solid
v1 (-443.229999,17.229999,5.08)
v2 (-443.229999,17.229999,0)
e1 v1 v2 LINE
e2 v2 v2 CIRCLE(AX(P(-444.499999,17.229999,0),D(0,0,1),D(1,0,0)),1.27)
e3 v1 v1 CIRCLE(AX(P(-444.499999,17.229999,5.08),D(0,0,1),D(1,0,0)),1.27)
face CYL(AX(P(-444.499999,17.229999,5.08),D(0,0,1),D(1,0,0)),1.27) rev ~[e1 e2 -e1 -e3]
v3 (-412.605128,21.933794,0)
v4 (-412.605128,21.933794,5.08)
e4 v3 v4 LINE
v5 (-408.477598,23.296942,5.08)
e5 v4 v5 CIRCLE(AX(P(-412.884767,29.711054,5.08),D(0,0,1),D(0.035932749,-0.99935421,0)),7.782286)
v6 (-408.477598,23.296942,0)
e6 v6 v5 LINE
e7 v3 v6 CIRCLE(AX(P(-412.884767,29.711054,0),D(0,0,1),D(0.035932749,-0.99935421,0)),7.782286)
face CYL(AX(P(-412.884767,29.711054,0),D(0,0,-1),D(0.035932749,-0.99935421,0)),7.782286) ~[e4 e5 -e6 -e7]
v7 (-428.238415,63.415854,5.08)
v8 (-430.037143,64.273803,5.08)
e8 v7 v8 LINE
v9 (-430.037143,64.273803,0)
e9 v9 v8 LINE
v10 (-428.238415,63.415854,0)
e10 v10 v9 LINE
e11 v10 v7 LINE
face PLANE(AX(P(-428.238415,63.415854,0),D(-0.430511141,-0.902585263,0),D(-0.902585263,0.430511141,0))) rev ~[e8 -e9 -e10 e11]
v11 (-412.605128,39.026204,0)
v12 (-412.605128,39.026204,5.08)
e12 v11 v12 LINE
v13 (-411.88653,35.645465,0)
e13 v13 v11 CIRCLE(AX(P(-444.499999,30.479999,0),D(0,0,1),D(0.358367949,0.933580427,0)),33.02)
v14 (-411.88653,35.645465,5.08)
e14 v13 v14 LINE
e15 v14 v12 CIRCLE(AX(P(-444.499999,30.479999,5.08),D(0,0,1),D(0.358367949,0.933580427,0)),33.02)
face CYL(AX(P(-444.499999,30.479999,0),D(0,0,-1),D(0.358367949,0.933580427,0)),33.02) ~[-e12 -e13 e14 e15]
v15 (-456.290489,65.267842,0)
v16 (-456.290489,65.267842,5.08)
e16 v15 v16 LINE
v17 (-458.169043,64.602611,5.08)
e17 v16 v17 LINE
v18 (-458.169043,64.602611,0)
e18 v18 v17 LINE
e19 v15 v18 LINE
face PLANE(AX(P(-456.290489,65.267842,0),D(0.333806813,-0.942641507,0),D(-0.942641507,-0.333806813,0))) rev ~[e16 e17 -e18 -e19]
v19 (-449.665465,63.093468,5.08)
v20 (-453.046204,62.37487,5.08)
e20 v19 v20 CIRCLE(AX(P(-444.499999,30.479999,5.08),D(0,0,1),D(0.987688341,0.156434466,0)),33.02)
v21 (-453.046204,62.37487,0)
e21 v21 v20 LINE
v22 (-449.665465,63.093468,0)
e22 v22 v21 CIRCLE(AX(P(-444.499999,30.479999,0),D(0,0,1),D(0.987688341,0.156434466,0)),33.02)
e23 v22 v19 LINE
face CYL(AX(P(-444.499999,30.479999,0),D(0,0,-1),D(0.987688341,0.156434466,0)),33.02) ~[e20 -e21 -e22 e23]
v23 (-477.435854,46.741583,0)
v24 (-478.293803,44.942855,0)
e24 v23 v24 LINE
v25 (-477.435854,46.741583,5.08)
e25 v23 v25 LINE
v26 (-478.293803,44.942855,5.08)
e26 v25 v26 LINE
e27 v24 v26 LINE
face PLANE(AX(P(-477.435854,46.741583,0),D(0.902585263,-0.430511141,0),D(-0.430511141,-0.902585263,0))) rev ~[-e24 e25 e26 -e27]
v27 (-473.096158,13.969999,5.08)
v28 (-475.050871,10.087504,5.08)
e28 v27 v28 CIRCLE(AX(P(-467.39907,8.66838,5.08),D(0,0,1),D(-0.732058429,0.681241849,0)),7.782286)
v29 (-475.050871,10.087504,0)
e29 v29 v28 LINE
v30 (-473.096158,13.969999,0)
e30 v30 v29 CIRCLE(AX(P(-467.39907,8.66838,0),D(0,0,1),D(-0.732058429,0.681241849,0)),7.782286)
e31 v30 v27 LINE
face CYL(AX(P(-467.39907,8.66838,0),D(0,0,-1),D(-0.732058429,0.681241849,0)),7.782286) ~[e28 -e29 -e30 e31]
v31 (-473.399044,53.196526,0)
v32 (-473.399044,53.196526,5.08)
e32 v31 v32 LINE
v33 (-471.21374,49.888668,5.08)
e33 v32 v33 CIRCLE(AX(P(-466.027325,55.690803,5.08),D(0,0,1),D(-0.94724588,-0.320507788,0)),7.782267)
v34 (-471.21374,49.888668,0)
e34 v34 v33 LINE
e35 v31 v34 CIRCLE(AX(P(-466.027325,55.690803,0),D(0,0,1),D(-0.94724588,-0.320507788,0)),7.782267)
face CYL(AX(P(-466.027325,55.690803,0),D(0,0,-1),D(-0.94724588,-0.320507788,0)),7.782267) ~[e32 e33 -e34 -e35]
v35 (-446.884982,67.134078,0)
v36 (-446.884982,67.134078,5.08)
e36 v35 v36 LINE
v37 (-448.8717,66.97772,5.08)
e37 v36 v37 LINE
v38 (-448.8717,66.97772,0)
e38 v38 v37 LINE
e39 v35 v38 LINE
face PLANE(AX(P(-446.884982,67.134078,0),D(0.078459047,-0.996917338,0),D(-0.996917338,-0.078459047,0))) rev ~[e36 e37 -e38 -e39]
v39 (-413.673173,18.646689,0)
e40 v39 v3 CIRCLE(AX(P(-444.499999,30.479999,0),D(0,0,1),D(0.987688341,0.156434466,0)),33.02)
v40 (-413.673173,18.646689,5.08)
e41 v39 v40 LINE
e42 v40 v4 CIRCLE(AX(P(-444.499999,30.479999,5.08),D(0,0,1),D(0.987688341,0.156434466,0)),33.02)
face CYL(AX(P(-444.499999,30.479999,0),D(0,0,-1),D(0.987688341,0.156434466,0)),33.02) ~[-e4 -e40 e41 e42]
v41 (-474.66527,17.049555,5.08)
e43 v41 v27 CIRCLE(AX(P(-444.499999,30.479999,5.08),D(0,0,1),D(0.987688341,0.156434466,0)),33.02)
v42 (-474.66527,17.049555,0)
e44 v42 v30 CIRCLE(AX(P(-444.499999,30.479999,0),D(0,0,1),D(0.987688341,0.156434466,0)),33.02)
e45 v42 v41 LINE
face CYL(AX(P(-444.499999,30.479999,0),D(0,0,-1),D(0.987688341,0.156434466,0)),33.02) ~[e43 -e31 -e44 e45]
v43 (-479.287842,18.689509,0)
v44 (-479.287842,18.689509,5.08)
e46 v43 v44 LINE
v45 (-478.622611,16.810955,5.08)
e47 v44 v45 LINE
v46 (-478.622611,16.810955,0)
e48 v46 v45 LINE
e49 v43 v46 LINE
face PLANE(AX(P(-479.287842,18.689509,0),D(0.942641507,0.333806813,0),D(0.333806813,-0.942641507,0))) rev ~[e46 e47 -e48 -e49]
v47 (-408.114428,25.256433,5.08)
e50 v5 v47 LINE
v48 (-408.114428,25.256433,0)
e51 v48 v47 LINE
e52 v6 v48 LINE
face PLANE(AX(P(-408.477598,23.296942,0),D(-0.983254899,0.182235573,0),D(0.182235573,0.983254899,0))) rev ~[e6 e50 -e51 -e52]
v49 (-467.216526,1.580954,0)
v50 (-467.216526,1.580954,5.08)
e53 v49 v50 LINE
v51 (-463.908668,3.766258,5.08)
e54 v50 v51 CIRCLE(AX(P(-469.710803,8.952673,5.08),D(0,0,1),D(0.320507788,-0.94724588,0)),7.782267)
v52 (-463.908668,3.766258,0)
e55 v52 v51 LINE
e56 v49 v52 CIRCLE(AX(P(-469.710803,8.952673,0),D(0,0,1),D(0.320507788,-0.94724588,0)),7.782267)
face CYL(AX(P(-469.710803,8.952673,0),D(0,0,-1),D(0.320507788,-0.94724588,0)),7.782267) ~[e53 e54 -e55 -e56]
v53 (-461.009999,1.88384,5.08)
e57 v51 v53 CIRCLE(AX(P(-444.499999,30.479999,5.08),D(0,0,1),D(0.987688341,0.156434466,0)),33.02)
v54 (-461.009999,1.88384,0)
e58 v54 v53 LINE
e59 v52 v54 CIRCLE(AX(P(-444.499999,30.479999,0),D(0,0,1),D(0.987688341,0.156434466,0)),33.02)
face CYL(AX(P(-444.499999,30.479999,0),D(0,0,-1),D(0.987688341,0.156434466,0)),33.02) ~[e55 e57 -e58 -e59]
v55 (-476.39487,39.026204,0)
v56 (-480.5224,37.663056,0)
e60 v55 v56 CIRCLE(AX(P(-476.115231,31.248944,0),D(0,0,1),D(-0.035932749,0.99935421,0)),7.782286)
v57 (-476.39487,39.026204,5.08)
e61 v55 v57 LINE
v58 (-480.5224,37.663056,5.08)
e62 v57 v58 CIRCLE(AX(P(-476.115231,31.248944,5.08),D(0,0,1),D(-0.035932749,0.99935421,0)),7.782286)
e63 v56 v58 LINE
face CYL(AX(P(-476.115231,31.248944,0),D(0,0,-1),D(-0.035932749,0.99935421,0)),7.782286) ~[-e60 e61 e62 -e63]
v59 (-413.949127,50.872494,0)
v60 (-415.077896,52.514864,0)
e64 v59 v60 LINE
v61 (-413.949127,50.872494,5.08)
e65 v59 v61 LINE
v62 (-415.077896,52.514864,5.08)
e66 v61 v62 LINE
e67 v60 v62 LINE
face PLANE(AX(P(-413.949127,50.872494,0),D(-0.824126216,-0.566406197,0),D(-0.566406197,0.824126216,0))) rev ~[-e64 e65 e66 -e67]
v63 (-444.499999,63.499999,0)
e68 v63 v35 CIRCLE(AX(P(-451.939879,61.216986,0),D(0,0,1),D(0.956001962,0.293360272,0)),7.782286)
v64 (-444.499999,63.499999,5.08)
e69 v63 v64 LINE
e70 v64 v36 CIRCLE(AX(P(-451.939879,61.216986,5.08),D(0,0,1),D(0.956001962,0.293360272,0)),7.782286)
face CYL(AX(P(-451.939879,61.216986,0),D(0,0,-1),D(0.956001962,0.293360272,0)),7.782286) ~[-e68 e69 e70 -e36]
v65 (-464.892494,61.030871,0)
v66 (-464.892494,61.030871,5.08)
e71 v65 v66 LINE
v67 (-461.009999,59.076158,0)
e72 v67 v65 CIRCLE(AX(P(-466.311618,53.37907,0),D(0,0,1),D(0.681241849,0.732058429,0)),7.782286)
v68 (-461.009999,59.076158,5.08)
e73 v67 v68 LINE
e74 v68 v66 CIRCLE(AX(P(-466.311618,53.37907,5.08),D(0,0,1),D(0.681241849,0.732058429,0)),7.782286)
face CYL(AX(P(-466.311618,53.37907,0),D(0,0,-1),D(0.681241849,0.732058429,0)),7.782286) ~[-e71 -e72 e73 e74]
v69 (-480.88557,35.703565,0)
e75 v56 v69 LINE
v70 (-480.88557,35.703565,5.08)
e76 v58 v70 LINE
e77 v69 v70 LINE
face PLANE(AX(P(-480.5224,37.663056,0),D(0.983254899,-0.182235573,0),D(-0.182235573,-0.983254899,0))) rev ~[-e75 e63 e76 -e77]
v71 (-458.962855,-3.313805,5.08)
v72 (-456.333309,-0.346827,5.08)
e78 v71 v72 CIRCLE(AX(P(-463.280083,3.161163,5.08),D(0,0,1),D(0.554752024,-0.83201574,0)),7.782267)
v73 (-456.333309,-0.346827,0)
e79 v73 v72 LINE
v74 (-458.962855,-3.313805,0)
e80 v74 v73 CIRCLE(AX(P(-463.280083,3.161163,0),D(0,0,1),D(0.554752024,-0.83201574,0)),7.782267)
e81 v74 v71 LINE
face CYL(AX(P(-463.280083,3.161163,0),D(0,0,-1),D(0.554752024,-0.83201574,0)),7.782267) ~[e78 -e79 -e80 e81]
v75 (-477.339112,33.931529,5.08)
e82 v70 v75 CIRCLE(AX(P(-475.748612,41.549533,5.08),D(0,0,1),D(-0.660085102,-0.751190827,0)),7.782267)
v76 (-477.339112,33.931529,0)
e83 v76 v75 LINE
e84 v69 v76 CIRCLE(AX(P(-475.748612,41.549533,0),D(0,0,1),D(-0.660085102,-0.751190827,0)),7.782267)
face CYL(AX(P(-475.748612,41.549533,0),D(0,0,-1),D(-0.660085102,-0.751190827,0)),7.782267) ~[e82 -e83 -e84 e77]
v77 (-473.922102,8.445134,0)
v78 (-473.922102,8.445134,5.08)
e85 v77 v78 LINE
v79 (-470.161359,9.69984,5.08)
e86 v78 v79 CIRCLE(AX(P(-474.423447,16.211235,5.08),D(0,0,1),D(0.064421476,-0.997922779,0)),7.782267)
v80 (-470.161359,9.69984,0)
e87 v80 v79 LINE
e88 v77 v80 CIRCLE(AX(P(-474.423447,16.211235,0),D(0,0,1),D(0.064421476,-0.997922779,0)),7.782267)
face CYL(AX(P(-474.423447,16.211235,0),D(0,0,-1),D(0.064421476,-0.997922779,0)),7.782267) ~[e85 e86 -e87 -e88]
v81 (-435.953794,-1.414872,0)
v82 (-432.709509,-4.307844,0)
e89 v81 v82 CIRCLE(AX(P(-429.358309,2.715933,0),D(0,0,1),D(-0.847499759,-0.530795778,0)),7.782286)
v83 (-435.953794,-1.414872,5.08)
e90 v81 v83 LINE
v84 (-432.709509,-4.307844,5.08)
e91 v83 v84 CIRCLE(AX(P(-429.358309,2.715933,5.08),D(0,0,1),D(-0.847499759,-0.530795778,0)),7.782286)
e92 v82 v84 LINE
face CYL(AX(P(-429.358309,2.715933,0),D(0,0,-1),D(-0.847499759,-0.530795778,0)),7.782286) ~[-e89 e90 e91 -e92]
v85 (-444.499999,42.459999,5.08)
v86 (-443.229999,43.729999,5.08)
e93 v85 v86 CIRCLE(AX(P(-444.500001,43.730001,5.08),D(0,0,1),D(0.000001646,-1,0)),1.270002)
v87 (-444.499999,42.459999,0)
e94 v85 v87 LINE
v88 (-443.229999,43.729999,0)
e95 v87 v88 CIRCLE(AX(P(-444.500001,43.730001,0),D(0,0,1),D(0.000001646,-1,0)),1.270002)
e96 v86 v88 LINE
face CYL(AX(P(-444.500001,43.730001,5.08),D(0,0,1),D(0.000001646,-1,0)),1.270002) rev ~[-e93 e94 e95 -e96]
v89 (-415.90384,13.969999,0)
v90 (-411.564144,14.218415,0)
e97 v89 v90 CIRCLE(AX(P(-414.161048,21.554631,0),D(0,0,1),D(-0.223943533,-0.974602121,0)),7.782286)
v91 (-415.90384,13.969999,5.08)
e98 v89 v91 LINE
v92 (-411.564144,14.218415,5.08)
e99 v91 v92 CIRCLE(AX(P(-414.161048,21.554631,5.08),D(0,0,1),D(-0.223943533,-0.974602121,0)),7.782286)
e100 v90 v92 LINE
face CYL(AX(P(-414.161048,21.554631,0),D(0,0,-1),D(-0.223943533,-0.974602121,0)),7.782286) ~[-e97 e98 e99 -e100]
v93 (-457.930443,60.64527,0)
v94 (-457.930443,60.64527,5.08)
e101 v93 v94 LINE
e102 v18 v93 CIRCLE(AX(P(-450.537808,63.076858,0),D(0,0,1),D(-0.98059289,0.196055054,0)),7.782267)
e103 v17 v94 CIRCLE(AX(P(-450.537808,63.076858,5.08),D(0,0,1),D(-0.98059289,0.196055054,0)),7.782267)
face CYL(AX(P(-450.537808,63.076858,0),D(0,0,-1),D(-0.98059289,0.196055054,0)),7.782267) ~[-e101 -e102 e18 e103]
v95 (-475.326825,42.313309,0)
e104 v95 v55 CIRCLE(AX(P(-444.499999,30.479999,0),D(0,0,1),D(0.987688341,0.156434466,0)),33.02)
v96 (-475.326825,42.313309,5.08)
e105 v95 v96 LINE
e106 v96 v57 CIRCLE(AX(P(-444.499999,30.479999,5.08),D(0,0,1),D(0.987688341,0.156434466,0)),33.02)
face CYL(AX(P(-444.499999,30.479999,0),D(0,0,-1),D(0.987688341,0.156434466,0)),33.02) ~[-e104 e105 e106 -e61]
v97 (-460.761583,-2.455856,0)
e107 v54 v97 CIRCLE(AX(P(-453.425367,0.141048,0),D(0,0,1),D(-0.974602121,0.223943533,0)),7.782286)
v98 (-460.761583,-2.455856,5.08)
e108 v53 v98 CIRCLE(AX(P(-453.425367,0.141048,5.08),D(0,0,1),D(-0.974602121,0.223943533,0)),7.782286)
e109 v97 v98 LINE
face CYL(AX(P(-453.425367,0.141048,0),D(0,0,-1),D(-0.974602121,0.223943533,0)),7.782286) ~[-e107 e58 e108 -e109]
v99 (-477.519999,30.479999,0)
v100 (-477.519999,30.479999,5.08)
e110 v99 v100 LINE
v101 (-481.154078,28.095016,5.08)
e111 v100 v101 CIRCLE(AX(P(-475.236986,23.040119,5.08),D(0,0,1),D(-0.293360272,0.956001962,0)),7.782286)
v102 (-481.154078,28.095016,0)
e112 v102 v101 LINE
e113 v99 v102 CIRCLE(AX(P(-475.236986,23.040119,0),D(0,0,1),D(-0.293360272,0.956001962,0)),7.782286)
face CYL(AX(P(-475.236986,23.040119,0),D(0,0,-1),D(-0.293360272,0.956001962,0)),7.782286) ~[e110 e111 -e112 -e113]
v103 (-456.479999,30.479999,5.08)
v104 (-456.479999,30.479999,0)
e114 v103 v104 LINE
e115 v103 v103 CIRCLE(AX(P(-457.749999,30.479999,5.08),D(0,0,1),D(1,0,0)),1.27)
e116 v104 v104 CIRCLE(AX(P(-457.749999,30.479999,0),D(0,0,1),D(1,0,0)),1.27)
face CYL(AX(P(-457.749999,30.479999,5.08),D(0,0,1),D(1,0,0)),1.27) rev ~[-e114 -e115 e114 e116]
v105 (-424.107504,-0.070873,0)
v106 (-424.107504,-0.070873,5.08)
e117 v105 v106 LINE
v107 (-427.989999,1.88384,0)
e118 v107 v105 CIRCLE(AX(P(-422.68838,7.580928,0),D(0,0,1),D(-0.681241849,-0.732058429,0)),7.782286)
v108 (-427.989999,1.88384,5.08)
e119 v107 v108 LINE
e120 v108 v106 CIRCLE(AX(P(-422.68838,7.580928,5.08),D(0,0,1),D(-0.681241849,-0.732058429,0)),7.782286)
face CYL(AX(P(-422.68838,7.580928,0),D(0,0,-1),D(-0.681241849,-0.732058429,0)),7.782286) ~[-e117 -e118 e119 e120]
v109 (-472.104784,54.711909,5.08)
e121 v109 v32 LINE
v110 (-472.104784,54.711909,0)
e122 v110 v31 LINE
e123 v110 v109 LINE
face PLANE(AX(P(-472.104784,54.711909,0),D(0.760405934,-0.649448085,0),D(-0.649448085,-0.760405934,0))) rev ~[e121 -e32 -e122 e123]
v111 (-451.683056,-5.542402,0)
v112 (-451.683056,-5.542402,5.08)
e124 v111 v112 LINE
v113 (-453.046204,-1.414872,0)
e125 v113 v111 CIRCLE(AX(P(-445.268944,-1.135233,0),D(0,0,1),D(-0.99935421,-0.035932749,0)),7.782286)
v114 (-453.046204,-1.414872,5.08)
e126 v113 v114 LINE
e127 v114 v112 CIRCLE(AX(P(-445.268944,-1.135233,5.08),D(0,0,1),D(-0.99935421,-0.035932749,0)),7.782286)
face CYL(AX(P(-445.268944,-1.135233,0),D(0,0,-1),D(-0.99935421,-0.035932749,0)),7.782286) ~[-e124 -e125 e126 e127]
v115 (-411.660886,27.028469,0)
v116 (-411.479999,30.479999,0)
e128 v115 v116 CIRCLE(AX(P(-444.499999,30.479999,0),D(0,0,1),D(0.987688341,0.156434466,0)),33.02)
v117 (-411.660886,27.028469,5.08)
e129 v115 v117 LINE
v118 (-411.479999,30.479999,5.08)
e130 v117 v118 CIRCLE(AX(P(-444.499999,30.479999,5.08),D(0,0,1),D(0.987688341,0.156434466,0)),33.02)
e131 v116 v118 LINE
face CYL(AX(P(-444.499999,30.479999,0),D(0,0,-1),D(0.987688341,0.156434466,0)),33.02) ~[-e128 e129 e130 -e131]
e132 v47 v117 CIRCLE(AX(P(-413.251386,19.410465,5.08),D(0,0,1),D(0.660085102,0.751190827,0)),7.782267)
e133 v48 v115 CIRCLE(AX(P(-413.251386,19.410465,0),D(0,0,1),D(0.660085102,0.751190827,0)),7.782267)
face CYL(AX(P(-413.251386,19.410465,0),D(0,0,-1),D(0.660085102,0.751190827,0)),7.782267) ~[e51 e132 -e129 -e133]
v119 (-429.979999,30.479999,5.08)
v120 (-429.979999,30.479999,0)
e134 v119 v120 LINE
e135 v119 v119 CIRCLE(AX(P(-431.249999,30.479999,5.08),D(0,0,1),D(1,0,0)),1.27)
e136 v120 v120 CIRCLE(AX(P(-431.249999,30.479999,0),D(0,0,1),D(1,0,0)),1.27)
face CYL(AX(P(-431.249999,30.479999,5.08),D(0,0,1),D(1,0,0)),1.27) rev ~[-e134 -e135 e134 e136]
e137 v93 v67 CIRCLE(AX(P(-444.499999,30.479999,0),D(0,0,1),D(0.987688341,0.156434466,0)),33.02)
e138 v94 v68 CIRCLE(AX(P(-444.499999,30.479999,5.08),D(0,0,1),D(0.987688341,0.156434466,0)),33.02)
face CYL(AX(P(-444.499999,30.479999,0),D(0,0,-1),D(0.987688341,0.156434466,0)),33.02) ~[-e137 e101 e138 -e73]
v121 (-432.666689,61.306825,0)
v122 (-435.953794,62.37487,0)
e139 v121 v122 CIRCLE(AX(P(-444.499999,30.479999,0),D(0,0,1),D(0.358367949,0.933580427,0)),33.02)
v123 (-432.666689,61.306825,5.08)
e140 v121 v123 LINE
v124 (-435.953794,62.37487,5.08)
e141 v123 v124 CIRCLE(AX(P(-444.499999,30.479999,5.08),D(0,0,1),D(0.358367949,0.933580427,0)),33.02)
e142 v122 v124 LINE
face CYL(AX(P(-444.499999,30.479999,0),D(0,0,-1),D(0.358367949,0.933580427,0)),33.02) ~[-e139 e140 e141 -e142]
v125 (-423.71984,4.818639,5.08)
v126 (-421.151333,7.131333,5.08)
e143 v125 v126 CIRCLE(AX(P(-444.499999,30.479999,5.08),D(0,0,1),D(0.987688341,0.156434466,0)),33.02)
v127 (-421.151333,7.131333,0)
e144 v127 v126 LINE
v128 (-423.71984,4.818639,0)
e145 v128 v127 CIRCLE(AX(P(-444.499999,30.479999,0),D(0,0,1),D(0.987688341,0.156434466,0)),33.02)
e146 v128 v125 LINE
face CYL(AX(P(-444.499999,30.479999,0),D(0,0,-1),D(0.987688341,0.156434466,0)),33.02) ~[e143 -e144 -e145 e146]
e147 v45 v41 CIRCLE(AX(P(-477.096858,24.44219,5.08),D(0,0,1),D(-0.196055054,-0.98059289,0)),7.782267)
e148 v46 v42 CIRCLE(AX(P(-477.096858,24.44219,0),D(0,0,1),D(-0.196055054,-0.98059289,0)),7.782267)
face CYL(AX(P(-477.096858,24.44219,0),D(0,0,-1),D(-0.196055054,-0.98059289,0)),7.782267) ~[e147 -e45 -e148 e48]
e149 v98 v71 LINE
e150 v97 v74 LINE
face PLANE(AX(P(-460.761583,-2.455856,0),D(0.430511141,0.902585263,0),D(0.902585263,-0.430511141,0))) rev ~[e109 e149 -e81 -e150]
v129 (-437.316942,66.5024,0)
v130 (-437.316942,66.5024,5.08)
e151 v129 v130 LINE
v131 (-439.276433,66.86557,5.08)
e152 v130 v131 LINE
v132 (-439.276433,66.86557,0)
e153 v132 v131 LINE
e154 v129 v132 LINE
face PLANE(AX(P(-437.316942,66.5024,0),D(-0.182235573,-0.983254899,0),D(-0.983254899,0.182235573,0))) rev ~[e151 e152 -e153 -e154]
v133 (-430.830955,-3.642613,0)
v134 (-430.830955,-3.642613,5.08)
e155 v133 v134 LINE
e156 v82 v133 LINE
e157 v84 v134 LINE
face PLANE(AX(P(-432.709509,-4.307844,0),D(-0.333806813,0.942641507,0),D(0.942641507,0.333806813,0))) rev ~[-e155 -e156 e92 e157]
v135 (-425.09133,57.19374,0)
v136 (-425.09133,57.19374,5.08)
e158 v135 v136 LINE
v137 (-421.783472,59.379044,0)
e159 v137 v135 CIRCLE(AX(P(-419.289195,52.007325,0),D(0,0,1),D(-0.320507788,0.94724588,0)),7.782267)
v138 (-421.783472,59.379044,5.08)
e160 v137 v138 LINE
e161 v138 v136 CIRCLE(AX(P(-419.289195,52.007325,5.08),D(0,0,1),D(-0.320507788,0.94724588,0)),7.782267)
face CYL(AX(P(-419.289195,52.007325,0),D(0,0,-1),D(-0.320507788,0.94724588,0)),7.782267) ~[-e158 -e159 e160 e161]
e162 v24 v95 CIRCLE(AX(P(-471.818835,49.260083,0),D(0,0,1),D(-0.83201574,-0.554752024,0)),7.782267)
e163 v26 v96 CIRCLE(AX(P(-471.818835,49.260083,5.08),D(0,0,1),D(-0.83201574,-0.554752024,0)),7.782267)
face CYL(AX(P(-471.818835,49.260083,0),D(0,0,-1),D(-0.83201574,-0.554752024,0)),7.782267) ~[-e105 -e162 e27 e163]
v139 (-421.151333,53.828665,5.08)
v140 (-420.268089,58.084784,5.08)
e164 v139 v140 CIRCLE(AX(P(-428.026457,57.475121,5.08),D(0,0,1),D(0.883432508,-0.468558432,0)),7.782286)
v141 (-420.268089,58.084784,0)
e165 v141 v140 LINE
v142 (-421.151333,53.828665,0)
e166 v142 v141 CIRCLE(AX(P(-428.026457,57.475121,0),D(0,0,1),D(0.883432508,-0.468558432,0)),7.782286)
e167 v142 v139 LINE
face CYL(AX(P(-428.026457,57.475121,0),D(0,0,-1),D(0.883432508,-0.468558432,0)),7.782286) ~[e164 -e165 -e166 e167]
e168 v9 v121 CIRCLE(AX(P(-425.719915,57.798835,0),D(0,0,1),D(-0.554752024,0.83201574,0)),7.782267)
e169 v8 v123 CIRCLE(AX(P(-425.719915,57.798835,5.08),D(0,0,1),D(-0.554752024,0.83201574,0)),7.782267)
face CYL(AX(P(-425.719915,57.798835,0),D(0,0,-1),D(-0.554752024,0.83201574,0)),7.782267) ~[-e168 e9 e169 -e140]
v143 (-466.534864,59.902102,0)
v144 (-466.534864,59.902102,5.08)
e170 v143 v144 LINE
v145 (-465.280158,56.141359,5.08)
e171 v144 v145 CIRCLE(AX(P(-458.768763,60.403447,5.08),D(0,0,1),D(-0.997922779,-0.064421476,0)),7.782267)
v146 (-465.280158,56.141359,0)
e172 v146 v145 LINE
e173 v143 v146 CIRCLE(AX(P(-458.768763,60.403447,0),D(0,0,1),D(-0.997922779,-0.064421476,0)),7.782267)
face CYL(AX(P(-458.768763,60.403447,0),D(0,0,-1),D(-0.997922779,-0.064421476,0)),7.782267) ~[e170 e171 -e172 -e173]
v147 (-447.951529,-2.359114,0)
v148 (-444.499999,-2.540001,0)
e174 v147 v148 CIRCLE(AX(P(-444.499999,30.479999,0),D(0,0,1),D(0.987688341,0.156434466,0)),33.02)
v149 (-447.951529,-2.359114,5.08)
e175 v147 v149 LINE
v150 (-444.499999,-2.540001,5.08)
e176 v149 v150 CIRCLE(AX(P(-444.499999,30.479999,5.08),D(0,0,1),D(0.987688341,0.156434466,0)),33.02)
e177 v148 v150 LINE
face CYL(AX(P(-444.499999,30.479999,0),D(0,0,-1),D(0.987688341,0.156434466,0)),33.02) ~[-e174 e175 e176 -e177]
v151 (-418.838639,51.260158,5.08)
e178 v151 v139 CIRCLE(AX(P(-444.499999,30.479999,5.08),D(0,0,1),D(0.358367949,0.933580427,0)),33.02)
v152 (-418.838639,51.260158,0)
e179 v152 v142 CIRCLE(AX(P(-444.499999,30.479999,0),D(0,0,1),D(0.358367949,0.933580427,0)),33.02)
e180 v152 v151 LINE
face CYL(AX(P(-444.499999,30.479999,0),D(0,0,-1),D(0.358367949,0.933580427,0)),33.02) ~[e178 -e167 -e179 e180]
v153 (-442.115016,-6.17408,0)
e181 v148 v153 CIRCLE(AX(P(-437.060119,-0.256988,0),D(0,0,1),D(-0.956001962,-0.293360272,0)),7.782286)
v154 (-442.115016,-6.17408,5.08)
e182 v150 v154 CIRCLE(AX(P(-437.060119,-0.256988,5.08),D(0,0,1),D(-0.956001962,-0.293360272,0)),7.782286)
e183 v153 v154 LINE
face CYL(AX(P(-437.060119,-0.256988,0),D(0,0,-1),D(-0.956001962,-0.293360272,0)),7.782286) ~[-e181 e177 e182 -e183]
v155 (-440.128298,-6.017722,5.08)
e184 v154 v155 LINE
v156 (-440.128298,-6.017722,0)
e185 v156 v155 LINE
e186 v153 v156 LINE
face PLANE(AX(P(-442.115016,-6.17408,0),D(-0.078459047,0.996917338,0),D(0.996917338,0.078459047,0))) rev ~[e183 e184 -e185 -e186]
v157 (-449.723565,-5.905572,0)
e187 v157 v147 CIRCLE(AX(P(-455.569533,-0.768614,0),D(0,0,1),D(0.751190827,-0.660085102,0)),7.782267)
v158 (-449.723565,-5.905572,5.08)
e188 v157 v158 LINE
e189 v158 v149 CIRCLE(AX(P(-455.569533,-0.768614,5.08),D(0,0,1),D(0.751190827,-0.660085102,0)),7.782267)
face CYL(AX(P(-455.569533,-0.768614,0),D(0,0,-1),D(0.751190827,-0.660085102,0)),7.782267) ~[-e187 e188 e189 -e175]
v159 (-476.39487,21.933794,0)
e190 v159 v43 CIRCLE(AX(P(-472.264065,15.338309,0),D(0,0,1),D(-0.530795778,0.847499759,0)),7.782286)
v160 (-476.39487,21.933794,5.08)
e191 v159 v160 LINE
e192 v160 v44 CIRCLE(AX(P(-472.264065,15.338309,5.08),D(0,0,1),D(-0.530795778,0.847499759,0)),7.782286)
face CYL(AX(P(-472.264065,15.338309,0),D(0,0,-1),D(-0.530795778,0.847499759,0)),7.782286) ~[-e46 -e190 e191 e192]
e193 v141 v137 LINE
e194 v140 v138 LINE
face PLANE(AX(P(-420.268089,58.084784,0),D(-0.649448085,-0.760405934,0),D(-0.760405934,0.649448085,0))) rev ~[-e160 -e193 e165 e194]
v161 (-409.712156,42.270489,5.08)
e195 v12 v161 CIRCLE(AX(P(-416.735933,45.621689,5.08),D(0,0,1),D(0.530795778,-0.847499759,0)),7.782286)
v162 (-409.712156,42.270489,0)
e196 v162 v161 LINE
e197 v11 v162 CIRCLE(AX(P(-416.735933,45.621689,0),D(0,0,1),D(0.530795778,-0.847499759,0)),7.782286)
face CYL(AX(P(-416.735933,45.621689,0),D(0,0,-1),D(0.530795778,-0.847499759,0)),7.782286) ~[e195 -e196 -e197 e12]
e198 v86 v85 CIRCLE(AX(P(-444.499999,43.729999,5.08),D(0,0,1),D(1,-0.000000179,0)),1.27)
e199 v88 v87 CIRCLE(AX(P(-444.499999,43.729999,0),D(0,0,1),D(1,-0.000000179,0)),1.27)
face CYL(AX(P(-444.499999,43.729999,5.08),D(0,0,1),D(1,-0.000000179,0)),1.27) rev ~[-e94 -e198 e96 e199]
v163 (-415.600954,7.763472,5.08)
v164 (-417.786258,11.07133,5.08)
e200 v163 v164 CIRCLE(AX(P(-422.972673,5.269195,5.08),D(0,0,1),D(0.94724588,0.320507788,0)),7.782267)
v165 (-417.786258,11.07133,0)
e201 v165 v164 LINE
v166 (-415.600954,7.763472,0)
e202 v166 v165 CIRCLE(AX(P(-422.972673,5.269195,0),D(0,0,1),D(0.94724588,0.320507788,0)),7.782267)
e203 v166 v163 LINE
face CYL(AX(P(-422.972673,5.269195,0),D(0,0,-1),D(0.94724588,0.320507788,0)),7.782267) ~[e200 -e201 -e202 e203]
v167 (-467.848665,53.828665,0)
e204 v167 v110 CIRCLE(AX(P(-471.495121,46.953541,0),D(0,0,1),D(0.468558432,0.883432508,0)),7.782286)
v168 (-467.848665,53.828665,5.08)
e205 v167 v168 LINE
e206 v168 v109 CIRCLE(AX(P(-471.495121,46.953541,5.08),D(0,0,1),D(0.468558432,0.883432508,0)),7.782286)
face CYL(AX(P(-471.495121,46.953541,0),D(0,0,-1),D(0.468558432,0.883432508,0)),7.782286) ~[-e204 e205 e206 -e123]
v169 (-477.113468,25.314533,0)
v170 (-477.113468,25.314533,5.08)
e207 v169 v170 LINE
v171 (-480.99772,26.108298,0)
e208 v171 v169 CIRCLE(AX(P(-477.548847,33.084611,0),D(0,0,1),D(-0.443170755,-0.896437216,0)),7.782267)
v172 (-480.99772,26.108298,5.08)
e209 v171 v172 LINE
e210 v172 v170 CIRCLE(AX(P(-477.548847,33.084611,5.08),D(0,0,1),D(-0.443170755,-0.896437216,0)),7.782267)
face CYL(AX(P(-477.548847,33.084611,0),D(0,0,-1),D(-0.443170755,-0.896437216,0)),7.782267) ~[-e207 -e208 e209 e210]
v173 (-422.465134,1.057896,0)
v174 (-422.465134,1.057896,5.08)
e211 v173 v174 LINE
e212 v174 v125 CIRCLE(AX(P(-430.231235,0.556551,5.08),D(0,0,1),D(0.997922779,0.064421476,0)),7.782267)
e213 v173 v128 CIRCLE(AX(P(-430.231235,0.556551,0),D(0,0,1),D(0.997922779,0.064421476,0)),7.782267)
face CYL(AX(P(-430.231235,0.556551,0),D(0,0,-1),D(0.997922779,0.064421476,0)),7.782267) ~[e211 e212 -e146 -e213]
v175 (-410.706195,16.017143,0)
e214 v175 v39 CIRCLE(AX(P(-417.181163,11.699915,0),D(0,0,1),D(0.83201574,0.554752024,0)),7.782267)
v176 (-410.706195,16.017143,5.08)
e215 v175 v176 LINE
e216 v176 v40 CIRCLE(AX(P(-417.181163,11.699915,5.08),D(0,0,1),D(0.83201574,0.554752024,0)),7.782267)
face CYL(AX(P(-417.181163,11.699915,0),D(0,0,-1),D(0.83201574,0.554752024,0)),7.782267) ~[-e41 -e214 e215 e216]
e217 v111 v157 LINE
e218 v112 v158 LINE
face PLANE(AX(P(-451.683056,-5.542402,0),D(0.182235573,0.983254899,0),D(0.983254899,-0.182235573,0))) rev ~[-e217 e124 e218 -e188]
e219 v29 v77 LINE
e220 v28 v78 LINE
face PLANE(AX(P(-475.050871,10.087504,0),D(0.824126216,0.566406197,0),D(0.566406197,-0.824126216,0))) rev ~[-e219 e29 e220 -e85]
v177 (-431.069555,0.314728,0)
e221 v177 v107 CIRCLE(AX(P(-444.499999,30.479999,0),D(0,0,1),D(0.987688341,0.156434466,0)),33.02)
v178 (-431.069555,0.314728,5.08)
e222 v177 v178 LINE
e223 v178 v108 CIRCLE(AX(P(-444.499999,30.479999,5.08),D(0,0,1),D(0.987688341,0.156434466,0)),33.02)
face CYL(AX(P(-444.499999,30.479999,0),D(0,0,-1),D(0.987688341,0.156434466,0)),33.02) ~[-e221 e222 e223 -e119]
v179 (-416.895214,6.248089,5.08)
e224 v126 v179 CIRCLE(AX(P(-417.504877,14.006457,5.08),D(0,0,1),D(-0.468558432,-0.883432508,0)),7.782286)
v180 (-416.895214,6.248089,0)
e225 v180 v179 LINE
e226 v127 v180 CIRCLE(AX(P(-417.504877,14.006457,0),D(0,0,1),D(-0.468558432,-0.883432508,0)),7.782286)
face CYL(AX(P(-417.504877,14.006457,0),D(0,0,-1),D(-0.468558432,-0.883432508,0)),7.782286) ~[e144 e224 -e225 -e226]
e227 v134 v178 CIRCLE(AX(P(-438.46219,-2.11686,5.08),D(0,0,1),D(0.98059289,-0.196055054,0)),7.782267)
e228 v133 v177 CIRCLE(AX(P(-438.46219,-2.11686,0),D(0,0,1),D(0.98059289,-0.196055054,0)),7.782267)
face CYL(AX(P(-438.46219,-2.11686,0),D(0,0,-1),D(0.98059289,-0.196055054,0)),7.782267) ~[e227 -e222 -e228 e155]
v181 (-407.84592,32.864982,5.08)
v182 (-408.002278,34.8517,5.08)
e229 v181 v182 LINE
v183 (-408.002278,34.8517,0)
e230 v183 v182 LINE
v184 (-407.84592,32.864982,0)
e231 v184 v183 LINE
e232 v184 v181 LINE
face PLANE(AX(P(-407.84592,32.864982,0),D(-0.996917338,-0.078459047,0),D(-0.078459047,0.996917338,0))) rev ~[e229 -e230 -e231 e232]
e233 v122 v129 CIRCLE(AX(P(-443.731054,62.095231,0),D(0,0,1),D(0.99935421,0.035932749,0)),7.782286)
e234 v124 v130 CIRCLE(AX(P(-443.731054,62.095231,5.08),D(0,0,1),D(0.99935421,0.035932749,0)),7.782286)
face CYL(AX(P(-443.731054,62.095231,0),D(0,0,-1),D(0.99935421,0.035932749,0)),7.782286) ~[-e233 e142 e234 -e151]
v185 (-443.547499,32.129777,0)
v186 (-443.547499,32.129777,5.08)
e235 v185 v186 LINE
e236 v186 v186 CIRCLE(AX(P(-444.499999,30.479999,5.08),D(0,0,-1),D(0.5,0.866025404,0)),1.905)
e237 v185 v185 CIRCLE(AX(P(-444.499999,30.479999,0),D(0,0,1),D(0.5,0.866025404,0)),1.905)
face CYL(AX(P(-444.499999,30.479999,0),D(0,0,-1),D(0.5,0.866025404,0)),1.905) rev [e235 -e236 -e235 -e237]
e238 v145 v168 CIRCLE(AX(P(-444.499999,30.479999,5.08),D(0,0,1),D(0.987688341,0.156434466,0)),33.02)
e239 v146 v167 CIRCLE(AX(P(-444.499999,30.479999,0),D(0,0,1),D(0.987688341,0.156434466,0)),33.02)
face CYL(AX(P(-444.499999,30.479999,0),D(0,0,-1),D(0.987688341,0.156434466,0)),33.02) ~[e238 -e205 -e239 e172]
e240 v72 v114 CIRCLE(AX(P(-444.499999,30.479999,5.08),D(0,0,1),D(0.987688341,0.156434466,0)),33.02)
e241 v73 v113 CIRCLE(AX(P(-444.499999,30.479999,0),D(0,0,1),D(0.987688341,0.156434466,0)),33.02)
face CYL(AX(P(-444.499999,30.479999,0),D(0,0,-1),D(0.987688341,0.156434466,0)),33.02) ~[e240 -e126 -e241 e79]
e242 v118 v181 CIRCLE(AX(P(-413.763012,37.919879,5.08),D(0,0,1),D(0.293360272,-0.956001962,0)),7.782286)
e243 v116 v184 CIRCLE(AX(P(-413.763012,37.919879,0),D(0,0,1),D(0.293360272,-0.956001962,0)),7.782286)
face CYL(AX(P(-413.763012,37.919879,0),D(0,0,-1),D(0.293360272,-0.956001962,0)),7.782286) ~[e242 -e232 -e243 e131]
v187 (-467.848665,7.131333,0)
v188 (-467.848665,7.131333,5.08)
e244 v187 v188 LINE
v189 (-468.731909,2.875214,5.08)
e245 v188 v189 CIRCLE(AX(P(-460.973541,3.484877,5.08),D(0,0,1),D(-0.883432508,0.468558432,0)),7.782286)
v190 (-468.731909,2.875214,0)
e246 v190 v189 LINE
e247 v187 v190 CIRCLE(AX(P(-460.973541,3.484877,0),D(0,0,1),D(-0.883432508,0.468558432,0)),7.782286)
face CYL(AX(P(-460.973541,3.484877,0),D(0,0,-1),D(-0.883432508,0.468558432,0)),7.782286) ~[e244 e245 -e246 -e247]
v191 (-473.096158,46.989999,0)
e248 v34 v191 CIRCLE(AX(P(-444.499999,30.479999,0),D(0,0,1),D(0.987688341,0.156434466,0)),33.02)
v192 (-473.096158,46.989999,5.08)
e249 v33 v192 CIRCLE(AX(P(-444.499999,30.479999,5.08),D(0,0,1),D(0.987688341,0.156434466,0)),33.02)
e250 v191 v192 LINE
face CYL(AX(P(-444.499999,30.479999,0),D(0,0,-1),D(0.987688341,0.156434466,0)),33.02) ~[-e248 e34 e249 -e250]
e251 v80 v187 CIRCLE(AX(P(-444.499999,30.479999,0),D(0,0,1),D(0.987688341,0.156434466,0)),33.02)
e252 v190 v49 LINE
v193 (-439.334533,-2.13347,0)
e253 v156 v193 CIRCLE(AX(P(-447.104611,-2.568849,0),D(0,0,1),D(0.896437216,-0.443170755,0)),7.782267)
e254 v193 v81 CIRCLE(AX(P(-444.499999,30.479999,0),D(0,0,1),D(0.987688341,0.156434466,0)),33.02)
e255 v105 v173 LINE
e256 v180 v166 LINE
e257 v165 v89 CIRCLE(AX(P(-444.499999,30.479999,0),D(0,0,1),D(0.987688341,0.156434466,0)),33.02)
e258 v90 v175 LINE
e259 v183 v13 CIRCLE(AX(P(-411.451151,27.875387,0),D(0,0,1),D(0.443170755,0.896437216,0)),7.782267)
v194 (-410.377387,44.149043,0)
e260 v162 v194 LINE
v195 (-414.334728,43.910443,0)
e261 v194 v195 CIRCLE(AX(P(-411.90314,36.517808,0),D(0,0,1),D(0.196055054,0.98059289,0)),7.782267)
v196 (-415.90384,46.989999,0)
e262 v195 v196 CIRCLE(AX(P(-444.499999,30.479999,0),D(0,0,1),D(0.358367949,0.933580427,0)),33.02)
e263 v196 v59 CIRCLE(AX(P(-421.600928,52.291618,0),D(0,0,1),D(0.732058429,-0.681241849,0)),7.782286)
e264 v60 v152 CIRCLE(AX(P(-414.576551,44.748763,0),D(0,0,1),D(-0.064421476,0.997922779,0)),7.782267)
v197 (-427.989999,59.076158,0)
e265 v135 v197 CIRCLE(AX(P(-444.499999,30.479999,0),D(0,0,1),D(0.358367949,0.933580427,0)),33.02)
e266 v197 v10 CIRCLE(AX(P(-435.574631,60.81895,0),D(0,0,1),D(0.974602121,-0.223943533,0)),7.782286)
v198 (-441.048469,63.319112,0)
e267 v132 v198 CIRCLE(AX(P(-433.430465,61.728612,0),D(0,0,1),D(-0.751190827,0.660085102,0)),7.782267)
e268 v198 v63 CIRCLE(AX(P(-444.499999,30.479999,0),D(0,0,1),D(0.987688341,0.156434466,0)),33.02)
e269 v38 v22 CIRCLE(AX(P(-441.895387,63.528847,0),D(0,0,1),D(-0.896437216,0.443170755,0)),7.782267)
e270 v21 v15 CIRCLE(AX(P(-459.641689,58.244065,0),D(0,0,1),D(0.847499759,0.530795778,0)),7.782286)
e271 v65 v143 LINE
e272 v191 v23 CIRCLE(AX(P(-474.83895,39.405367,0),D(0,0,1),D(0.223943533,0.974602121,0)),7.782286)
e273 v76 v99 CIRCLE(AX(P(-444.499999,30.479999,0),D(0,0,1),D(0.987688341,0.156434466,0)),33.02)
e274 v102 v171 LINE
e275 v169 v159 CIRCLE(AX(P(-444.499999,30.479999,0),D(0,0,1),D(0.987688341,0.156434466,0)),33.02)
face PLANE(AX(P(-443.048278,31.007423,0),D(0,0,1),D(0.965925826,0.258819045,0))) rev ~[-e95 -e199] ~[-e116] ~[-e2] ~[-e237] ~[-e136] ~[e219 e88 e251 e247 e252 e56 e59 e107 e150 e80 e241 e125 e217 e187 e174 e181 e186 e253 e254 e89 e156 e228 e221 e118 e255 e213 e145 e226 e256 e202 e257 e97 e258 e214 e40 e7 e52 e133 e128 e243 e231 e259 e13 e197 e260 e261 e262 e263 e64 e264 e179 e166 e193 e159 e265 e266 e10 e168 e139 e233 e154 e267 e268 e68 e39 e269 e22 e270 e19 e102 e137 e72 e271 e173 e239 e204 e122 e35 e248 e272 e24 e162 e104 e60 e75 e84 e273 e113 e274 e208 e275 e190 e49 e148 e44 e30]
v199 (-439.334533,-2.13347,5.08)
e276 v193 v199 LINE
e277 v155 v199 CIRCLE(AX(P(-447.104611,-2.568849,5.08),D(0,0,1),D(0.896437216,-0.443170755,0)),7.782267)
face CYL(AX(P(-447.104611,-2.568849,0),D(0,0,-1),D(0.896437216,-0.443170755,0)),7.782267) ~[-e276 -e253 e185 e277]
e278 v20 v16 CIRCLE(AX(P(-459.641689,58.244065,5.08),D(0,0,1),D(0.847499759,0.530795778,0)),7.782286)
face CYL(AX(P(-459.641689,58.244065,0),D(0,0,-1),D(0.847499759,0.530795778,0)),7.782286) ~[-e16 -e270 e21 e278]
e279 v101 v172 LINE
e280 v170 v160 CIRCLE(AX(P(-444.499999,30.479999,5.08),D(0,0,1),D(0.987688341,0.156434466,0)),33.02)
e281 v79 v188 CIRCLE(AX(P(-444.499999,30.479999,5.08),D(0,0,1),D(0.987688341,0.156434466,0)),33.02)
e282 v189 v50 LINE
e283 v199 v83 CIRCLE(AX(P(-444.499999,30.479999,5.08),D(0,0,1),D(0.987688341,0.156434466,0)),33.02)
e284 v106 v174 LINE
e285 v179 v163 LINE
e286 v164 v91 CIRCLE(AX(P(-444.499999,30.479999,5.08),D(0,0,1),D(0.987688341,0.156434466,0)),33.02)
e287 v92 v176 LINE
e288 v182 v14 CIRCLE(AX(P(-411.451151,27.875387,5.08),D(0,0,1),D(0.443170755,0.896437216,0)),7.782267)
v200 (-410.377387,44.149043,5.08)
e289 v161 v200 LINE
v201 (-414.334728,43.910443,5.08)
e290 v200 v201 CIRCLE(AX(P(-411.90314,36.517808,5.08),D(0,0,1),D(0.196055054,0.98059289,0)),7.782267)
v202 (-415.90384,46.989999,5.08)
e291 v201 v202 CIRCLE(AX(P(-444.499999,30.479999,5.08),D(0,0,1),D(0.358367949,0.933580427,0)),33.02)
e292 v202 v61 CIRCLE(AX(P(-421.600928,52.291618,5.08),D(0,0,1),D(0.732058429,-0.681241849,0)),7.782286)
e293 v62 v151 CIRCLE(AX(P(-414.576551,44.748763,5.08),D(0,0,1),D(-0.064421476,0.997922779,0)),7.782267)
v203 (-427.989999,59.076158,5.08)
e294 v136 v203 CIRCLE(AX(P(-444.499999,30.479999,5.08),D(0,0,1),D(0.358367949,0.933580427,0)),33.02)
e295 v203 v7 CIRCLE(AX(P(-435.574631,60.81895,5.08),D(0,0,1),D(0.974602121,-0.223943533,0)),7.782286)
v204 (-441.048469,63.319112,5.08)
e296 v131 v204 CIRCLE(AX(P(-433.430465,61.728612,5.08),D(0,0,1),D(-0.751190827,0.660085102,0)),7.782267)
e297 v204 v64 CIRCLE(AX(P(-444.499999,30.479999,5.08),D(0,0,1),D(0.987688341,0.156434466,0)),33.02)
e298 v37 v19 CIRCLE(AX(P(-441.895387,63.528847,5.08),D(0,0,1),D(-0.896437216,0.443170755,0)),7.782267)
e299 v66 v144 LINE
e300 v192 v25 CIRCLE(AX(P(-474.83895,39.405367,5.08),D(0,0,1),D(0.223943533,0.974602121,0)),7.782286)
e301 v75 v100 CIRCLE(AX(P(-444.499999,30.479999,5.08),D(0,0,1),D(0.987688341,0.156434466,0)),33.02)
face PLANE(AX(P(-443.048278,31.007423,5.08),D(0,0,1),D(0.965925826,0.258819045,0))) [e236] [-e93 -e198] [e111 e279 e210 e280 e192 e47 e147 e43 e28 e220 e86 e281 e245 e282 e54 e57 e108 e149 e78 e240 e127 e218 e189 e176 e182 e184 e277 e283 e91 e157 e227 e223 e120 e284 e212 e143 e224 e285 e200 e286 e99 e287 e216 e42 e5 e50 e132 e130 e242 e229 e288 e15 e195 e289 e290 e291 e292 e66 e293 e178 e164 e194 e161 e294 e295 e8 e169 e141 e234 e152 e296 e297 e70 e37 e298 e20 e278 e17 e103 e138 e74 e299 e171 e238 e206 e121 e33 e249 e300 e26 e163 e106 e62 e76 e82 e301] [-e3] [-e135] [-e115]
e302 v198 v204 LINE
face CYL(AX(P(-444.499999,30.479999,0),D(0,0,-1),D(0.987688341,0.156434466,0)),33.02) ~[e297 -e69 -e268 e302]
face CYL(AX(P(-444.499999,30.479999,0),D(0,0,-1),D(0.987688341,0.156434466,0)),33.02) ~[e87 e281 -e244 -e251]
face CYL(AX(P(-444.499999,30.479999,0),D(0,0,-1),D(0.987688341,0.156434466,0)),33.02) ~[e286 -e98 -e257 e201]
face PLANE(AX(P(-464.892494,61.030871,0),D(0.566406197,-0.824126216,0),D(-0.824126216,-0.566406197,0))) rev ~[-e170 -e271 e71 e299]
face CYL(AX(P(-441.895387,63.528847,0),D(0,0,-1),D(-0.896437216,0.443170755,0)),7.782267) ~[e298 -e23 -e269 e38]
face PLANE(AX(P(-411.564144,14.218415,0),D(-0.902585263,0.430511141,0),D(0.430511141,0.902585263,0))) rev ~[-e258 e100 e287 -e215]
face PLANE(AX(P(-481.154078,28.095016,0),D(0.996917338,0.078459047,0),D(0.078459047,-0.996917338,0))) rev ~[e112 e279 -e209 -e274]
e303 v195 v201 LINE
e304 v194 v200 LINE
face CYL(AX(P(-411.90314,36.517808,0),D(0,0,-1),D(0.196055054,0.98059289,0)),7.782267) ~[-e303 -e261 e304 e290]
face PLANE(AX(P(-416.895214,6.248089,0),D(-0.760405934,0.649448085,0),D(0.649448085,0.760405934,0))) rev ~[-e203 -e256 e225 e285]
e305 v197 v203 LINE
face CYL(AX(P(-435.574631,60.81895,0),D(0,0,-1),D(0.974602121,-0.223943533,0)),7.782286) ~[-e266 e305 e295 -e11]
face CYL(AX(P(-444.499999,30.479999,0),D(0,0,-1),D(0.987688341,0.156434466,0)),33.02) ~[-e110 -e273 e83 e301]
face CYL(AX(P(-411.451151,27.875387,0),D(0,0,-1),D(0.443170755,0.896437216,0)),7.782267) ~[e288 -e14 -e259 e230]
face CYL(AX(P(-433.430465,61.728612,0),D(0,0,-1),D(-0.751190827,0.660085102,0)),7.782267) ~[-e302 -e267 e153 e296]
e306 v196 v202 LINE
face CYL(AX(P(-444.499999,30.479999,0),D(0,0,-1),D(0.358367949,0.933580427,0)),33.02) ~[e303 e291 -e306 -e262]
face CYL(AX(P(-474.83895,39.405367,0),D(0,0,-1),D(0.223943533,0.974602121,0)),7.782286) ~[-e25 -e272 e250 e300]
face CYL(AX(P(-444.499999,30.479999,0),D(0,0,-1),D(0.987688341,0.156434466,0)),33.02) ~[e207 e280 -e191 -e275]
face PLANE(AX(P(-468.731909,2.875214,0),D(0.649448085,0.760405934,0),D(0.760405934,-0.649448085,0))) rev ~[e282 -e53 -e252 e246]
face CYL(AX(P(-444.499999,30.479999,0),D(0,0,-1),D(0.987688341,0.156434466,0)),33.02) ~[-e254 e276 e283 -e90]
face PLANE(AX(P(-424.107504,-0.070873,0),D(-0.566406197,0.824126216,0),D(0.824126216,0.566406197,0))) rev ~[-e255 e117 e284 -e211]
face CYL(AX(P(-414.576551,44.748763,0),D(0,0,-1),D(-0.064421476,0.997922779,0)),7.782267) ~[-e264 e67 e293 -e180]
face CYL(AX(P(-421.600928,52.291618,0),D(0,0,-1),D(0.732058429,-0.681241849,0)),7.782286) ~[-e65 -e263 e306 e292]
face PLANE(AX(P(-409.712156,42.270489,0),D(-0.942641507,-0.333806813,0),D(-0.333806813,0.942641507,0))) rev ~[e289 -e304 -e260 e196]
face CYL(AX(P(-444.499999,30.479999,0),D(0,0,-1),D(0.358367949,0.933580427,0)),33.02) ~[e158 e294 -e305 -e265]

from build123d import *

# Parameters (mm, degrees)
F0_R     = 1.905
F1_DEPTH = 5.08
F2_COUNT = 24
F5_R     = 1.27
F6_DEPTH = 25.4


with BuildPart() as f1:
    # F0 (on Top) → F1 (new body)
    with BuildSketch(Plane.XY):
        with BuildLine():
            ThreePointArc((-408.002278, 34.8517), (-409.893011, 35.500075), (-411.88653, 35.645465))
            ThreePointArc((-411.88653, 35.645465), (-477.41821, 27.88928), (-411.479999, 30.479999))
            ThreePointArc((-411.479999, 30.479999), (-409.493063, 31.413613), (-407.84592, 32.864982))
            Line((-407.84592, 32.864982), (-408.002278, 34.8517))
        make_face()
        with Locations((-444.499999, 30.479999)):
            Circle(F0_R, mode=Mode.SUBTRACT)
    extrude(amount=F1_DEPTH)


with BuildPart() as f2_1:
    # F2: instance of F1
    add(f1.part.rotate(Axis((-444.499999, 30.479999, 0), (0, 0, -1)), 1 * 360 / F2_COUNT))


with BuildPart() as f2_2:
    # F2: instance of F1
    add(f1.part.rotate(Axis((-444.499999, 30.479999, 0), (0, 0, -1)), 2 * 360 / F2_COUNT))


with BuildPart() as f2_3:
    # F2: instance of F1
    add(f1.part.rotate(Axis((-444.499999, 30.479999, 0), (0, 0, -1)), 3 * 360 / F2_COUNT))


with BuildPart() as f2_4:
    # F2: instance of F1
    add(f1.part.rotate(Axis((-444.499999, 30.479999, 0), (0, 0, -1)), 4 * 360 / F2_COUNT))


with BuildPart() as f2_5:
    # F2: instance of F1
    add(f1.part.rotate(Axis((-444.499999, 30.479999, 0), (0, 0, -1)), 5 * 360 / F2_COUNT))


with BuildPart() as f2_6:
    # F2: instance of F1
    add(f1.part.rotate(Axis((-444.499999, 30.479999, 0), (0, 0, -1)), 6 * 360 / F2_COUNT))


with BuildPart() as f2_7:
    # F2: instance of F1
    add(f1.part.rotate(Axis((-444.499999, 30.479999, 0), (0, 0, -1)), 7 * 360 / F2_COUNT))


with BuildPart() as f2_8:
    # F2: instance of F1
    add(f1.part.rotate(Axis((-444.499999, 30.479999, 0), (0, 0, -1)), 8 * 360 / F2_COUNT))


with BuildPart() as f2_9:
    # F2: instance of F1
    add(f1.part.rotate(Axis((-444.499999, 30.479999, 0), (0, 0, -1)), 9 * 360 / F2_COUNT))


with BuildPart() as f2_10:
    # F2: instance of F1
    add(f1.part.rotate(Axis((-444.499999, 30.479999, 0), (0, 0, -1)), 10 * 360 / F2_COUNT))


with BuildPart() as f2_11:
    # F2: instance of F1
    add(f1.part.rotate(Axis((-444.499999, 30.479999, 0), (0, 0, -1)), 11 * 360 / F2_COUNT))


with BuildPart() as f2_12:
    # F2: instance of F1
    add(f1.part.rotate(Axis((-444.499999, 30.479999, 0), (0, 0, -1)), 12 * 360 / F2_COUNT))


with BuildPart() as f2_13:
    # F2: instance of F1
    add(f1.part.rotate(Axis((-444.499999, 30.479999, 0), (0, 0, -1)), 13 * 360 / F2_COUNT))


with BuildPart() as f2_14:
    # F2: instance of F1
    add(f1.part.rotate(Axis((-444.499999, 30.479999, 0), (0, 0, -1)), 14 * 360 / F2_COUNT))


with BuildPart() as f2_15:
    # F2: instance of F1
    add(f1.part.rotate(Axis((-444.499999, 30.479999, 0), (0, 0, -1)), 15 * 360 / F2_COUNT))


with BuildPart() as f2_16:
    # F2: instance of F1
    add(f1.part.rotate(Axis((-444.499999, 30.479999, 0), (0, 0, -1)), 16 * 360 / F2_COUNT))


with BuildPart() as f2_17:
    # F2: instance of F1
    add(f1.part.rotate(Axis((-444.499999, 30.479999, 0), (0, 0, -1)), 17 * 360 / F2_COUNT))


with BuildPart() as f2_18:
    # F2: instance of F1
    add(f1.part.rotate(Axis((-444.499999, 30.479999, 0), (0, 0, -1)), 18 * 360 / F2_COUNT))


with BuildPart() as f2_19:
    # F2: instance of F1
    add(f1.part.rotate(Axis((-444.499999, 30.479999, 0), (0, 0, -1)), 19 * 360 / F2_COUNT))


with BuildPart() as f2_20:
    # F2: instance of F1
    add(f1.part.rotate(Axis((-444.499999, 30.479999, 0), (0, 0, -1)), 20 * 360 / F2_COUNT))


with BuildPart() as f2_21:
    # F2: instance of F1
    add(f1.part.rotate(Axis((-444.499999, 30.479999, 0), (0, 0, -1)), 21 * 360 / F2_COUNT))


with BuildPart() as f2_22:
    # F2: instance of F1
    add(f1.part.rotate(Axis((-444.499999, 30.479999, 0), (0, 0, -1)), 22 * 360 / F2_COUNT))


with BuildPart() as f2_23:
    # F2: instance of F1
    add(f1.part.rotate(Axis((-444.499999, 30.479999, 0), (0, 0, -1)), 23 * 360 / F2_COUNT))


with BuildPart() as f1_1:
    add(f1.part)

    # F3: union F2_1, F2_2, F2_3, F2_4, F2_5, F2_6, F2_11, F2_14, F2_12, F2_13, F2_19, F2_18, F2_17, F2_10, F2_16, F2_15, F2_9, F2_8, F2_7
    add(f2_1.part)
    add(f2_2.part)
    add(f2_3.part)
    add(f2_4.part)
    add(f2_5.part)
    add(f2_6.part)
    add(f2_11.part)
    add(f2_14.part)
    add(f2_12.part)
    add(f2_13.part)
    add(f2_19.part)
    add(f2_18.part)
    add(f2_17.part)
    add(f2_10.part)
    add(f2_16.part)
    add(f2_15.part)
    add(f2_9.part)
    add(f2_8.part)
    add(f2_7.part)


with BuildPart() as f2_20_1:
    add(f2_20.part)

    # F4: union F1, F2_21, F2_22, F2_23
    add(f1_1.part)
    add(f2_21.part)
    add(f2_22.part)
    add(f2_23.part)

    # F5 (on face) → F6 (cut)
    with BuildSketch(Plane.XY.offset(5.08)):
        with BuildLine():
            ThreePointArc((-443.229999, 43.729999), (-445.398025, 44.628025), (-444.499999, 42.459999))
            ThreePointArc((-444.499999, 42.459999), (-443.601974, 42.831974), (-443.229999, 43.729999))
        make_face()
        with Locations((-431.249999, 30.479999)):
            Circle(F5_R)
        with Locations((-444.499999, 17.229999)):
            Circle(F5_R)
        with Locations((-457.749999, 30.479999)):
            Circle(F5_R)
    extrude(amount=-F6_DEPTH, mode=Mode.SUBTRACT)


solid = f2_20_1.part
